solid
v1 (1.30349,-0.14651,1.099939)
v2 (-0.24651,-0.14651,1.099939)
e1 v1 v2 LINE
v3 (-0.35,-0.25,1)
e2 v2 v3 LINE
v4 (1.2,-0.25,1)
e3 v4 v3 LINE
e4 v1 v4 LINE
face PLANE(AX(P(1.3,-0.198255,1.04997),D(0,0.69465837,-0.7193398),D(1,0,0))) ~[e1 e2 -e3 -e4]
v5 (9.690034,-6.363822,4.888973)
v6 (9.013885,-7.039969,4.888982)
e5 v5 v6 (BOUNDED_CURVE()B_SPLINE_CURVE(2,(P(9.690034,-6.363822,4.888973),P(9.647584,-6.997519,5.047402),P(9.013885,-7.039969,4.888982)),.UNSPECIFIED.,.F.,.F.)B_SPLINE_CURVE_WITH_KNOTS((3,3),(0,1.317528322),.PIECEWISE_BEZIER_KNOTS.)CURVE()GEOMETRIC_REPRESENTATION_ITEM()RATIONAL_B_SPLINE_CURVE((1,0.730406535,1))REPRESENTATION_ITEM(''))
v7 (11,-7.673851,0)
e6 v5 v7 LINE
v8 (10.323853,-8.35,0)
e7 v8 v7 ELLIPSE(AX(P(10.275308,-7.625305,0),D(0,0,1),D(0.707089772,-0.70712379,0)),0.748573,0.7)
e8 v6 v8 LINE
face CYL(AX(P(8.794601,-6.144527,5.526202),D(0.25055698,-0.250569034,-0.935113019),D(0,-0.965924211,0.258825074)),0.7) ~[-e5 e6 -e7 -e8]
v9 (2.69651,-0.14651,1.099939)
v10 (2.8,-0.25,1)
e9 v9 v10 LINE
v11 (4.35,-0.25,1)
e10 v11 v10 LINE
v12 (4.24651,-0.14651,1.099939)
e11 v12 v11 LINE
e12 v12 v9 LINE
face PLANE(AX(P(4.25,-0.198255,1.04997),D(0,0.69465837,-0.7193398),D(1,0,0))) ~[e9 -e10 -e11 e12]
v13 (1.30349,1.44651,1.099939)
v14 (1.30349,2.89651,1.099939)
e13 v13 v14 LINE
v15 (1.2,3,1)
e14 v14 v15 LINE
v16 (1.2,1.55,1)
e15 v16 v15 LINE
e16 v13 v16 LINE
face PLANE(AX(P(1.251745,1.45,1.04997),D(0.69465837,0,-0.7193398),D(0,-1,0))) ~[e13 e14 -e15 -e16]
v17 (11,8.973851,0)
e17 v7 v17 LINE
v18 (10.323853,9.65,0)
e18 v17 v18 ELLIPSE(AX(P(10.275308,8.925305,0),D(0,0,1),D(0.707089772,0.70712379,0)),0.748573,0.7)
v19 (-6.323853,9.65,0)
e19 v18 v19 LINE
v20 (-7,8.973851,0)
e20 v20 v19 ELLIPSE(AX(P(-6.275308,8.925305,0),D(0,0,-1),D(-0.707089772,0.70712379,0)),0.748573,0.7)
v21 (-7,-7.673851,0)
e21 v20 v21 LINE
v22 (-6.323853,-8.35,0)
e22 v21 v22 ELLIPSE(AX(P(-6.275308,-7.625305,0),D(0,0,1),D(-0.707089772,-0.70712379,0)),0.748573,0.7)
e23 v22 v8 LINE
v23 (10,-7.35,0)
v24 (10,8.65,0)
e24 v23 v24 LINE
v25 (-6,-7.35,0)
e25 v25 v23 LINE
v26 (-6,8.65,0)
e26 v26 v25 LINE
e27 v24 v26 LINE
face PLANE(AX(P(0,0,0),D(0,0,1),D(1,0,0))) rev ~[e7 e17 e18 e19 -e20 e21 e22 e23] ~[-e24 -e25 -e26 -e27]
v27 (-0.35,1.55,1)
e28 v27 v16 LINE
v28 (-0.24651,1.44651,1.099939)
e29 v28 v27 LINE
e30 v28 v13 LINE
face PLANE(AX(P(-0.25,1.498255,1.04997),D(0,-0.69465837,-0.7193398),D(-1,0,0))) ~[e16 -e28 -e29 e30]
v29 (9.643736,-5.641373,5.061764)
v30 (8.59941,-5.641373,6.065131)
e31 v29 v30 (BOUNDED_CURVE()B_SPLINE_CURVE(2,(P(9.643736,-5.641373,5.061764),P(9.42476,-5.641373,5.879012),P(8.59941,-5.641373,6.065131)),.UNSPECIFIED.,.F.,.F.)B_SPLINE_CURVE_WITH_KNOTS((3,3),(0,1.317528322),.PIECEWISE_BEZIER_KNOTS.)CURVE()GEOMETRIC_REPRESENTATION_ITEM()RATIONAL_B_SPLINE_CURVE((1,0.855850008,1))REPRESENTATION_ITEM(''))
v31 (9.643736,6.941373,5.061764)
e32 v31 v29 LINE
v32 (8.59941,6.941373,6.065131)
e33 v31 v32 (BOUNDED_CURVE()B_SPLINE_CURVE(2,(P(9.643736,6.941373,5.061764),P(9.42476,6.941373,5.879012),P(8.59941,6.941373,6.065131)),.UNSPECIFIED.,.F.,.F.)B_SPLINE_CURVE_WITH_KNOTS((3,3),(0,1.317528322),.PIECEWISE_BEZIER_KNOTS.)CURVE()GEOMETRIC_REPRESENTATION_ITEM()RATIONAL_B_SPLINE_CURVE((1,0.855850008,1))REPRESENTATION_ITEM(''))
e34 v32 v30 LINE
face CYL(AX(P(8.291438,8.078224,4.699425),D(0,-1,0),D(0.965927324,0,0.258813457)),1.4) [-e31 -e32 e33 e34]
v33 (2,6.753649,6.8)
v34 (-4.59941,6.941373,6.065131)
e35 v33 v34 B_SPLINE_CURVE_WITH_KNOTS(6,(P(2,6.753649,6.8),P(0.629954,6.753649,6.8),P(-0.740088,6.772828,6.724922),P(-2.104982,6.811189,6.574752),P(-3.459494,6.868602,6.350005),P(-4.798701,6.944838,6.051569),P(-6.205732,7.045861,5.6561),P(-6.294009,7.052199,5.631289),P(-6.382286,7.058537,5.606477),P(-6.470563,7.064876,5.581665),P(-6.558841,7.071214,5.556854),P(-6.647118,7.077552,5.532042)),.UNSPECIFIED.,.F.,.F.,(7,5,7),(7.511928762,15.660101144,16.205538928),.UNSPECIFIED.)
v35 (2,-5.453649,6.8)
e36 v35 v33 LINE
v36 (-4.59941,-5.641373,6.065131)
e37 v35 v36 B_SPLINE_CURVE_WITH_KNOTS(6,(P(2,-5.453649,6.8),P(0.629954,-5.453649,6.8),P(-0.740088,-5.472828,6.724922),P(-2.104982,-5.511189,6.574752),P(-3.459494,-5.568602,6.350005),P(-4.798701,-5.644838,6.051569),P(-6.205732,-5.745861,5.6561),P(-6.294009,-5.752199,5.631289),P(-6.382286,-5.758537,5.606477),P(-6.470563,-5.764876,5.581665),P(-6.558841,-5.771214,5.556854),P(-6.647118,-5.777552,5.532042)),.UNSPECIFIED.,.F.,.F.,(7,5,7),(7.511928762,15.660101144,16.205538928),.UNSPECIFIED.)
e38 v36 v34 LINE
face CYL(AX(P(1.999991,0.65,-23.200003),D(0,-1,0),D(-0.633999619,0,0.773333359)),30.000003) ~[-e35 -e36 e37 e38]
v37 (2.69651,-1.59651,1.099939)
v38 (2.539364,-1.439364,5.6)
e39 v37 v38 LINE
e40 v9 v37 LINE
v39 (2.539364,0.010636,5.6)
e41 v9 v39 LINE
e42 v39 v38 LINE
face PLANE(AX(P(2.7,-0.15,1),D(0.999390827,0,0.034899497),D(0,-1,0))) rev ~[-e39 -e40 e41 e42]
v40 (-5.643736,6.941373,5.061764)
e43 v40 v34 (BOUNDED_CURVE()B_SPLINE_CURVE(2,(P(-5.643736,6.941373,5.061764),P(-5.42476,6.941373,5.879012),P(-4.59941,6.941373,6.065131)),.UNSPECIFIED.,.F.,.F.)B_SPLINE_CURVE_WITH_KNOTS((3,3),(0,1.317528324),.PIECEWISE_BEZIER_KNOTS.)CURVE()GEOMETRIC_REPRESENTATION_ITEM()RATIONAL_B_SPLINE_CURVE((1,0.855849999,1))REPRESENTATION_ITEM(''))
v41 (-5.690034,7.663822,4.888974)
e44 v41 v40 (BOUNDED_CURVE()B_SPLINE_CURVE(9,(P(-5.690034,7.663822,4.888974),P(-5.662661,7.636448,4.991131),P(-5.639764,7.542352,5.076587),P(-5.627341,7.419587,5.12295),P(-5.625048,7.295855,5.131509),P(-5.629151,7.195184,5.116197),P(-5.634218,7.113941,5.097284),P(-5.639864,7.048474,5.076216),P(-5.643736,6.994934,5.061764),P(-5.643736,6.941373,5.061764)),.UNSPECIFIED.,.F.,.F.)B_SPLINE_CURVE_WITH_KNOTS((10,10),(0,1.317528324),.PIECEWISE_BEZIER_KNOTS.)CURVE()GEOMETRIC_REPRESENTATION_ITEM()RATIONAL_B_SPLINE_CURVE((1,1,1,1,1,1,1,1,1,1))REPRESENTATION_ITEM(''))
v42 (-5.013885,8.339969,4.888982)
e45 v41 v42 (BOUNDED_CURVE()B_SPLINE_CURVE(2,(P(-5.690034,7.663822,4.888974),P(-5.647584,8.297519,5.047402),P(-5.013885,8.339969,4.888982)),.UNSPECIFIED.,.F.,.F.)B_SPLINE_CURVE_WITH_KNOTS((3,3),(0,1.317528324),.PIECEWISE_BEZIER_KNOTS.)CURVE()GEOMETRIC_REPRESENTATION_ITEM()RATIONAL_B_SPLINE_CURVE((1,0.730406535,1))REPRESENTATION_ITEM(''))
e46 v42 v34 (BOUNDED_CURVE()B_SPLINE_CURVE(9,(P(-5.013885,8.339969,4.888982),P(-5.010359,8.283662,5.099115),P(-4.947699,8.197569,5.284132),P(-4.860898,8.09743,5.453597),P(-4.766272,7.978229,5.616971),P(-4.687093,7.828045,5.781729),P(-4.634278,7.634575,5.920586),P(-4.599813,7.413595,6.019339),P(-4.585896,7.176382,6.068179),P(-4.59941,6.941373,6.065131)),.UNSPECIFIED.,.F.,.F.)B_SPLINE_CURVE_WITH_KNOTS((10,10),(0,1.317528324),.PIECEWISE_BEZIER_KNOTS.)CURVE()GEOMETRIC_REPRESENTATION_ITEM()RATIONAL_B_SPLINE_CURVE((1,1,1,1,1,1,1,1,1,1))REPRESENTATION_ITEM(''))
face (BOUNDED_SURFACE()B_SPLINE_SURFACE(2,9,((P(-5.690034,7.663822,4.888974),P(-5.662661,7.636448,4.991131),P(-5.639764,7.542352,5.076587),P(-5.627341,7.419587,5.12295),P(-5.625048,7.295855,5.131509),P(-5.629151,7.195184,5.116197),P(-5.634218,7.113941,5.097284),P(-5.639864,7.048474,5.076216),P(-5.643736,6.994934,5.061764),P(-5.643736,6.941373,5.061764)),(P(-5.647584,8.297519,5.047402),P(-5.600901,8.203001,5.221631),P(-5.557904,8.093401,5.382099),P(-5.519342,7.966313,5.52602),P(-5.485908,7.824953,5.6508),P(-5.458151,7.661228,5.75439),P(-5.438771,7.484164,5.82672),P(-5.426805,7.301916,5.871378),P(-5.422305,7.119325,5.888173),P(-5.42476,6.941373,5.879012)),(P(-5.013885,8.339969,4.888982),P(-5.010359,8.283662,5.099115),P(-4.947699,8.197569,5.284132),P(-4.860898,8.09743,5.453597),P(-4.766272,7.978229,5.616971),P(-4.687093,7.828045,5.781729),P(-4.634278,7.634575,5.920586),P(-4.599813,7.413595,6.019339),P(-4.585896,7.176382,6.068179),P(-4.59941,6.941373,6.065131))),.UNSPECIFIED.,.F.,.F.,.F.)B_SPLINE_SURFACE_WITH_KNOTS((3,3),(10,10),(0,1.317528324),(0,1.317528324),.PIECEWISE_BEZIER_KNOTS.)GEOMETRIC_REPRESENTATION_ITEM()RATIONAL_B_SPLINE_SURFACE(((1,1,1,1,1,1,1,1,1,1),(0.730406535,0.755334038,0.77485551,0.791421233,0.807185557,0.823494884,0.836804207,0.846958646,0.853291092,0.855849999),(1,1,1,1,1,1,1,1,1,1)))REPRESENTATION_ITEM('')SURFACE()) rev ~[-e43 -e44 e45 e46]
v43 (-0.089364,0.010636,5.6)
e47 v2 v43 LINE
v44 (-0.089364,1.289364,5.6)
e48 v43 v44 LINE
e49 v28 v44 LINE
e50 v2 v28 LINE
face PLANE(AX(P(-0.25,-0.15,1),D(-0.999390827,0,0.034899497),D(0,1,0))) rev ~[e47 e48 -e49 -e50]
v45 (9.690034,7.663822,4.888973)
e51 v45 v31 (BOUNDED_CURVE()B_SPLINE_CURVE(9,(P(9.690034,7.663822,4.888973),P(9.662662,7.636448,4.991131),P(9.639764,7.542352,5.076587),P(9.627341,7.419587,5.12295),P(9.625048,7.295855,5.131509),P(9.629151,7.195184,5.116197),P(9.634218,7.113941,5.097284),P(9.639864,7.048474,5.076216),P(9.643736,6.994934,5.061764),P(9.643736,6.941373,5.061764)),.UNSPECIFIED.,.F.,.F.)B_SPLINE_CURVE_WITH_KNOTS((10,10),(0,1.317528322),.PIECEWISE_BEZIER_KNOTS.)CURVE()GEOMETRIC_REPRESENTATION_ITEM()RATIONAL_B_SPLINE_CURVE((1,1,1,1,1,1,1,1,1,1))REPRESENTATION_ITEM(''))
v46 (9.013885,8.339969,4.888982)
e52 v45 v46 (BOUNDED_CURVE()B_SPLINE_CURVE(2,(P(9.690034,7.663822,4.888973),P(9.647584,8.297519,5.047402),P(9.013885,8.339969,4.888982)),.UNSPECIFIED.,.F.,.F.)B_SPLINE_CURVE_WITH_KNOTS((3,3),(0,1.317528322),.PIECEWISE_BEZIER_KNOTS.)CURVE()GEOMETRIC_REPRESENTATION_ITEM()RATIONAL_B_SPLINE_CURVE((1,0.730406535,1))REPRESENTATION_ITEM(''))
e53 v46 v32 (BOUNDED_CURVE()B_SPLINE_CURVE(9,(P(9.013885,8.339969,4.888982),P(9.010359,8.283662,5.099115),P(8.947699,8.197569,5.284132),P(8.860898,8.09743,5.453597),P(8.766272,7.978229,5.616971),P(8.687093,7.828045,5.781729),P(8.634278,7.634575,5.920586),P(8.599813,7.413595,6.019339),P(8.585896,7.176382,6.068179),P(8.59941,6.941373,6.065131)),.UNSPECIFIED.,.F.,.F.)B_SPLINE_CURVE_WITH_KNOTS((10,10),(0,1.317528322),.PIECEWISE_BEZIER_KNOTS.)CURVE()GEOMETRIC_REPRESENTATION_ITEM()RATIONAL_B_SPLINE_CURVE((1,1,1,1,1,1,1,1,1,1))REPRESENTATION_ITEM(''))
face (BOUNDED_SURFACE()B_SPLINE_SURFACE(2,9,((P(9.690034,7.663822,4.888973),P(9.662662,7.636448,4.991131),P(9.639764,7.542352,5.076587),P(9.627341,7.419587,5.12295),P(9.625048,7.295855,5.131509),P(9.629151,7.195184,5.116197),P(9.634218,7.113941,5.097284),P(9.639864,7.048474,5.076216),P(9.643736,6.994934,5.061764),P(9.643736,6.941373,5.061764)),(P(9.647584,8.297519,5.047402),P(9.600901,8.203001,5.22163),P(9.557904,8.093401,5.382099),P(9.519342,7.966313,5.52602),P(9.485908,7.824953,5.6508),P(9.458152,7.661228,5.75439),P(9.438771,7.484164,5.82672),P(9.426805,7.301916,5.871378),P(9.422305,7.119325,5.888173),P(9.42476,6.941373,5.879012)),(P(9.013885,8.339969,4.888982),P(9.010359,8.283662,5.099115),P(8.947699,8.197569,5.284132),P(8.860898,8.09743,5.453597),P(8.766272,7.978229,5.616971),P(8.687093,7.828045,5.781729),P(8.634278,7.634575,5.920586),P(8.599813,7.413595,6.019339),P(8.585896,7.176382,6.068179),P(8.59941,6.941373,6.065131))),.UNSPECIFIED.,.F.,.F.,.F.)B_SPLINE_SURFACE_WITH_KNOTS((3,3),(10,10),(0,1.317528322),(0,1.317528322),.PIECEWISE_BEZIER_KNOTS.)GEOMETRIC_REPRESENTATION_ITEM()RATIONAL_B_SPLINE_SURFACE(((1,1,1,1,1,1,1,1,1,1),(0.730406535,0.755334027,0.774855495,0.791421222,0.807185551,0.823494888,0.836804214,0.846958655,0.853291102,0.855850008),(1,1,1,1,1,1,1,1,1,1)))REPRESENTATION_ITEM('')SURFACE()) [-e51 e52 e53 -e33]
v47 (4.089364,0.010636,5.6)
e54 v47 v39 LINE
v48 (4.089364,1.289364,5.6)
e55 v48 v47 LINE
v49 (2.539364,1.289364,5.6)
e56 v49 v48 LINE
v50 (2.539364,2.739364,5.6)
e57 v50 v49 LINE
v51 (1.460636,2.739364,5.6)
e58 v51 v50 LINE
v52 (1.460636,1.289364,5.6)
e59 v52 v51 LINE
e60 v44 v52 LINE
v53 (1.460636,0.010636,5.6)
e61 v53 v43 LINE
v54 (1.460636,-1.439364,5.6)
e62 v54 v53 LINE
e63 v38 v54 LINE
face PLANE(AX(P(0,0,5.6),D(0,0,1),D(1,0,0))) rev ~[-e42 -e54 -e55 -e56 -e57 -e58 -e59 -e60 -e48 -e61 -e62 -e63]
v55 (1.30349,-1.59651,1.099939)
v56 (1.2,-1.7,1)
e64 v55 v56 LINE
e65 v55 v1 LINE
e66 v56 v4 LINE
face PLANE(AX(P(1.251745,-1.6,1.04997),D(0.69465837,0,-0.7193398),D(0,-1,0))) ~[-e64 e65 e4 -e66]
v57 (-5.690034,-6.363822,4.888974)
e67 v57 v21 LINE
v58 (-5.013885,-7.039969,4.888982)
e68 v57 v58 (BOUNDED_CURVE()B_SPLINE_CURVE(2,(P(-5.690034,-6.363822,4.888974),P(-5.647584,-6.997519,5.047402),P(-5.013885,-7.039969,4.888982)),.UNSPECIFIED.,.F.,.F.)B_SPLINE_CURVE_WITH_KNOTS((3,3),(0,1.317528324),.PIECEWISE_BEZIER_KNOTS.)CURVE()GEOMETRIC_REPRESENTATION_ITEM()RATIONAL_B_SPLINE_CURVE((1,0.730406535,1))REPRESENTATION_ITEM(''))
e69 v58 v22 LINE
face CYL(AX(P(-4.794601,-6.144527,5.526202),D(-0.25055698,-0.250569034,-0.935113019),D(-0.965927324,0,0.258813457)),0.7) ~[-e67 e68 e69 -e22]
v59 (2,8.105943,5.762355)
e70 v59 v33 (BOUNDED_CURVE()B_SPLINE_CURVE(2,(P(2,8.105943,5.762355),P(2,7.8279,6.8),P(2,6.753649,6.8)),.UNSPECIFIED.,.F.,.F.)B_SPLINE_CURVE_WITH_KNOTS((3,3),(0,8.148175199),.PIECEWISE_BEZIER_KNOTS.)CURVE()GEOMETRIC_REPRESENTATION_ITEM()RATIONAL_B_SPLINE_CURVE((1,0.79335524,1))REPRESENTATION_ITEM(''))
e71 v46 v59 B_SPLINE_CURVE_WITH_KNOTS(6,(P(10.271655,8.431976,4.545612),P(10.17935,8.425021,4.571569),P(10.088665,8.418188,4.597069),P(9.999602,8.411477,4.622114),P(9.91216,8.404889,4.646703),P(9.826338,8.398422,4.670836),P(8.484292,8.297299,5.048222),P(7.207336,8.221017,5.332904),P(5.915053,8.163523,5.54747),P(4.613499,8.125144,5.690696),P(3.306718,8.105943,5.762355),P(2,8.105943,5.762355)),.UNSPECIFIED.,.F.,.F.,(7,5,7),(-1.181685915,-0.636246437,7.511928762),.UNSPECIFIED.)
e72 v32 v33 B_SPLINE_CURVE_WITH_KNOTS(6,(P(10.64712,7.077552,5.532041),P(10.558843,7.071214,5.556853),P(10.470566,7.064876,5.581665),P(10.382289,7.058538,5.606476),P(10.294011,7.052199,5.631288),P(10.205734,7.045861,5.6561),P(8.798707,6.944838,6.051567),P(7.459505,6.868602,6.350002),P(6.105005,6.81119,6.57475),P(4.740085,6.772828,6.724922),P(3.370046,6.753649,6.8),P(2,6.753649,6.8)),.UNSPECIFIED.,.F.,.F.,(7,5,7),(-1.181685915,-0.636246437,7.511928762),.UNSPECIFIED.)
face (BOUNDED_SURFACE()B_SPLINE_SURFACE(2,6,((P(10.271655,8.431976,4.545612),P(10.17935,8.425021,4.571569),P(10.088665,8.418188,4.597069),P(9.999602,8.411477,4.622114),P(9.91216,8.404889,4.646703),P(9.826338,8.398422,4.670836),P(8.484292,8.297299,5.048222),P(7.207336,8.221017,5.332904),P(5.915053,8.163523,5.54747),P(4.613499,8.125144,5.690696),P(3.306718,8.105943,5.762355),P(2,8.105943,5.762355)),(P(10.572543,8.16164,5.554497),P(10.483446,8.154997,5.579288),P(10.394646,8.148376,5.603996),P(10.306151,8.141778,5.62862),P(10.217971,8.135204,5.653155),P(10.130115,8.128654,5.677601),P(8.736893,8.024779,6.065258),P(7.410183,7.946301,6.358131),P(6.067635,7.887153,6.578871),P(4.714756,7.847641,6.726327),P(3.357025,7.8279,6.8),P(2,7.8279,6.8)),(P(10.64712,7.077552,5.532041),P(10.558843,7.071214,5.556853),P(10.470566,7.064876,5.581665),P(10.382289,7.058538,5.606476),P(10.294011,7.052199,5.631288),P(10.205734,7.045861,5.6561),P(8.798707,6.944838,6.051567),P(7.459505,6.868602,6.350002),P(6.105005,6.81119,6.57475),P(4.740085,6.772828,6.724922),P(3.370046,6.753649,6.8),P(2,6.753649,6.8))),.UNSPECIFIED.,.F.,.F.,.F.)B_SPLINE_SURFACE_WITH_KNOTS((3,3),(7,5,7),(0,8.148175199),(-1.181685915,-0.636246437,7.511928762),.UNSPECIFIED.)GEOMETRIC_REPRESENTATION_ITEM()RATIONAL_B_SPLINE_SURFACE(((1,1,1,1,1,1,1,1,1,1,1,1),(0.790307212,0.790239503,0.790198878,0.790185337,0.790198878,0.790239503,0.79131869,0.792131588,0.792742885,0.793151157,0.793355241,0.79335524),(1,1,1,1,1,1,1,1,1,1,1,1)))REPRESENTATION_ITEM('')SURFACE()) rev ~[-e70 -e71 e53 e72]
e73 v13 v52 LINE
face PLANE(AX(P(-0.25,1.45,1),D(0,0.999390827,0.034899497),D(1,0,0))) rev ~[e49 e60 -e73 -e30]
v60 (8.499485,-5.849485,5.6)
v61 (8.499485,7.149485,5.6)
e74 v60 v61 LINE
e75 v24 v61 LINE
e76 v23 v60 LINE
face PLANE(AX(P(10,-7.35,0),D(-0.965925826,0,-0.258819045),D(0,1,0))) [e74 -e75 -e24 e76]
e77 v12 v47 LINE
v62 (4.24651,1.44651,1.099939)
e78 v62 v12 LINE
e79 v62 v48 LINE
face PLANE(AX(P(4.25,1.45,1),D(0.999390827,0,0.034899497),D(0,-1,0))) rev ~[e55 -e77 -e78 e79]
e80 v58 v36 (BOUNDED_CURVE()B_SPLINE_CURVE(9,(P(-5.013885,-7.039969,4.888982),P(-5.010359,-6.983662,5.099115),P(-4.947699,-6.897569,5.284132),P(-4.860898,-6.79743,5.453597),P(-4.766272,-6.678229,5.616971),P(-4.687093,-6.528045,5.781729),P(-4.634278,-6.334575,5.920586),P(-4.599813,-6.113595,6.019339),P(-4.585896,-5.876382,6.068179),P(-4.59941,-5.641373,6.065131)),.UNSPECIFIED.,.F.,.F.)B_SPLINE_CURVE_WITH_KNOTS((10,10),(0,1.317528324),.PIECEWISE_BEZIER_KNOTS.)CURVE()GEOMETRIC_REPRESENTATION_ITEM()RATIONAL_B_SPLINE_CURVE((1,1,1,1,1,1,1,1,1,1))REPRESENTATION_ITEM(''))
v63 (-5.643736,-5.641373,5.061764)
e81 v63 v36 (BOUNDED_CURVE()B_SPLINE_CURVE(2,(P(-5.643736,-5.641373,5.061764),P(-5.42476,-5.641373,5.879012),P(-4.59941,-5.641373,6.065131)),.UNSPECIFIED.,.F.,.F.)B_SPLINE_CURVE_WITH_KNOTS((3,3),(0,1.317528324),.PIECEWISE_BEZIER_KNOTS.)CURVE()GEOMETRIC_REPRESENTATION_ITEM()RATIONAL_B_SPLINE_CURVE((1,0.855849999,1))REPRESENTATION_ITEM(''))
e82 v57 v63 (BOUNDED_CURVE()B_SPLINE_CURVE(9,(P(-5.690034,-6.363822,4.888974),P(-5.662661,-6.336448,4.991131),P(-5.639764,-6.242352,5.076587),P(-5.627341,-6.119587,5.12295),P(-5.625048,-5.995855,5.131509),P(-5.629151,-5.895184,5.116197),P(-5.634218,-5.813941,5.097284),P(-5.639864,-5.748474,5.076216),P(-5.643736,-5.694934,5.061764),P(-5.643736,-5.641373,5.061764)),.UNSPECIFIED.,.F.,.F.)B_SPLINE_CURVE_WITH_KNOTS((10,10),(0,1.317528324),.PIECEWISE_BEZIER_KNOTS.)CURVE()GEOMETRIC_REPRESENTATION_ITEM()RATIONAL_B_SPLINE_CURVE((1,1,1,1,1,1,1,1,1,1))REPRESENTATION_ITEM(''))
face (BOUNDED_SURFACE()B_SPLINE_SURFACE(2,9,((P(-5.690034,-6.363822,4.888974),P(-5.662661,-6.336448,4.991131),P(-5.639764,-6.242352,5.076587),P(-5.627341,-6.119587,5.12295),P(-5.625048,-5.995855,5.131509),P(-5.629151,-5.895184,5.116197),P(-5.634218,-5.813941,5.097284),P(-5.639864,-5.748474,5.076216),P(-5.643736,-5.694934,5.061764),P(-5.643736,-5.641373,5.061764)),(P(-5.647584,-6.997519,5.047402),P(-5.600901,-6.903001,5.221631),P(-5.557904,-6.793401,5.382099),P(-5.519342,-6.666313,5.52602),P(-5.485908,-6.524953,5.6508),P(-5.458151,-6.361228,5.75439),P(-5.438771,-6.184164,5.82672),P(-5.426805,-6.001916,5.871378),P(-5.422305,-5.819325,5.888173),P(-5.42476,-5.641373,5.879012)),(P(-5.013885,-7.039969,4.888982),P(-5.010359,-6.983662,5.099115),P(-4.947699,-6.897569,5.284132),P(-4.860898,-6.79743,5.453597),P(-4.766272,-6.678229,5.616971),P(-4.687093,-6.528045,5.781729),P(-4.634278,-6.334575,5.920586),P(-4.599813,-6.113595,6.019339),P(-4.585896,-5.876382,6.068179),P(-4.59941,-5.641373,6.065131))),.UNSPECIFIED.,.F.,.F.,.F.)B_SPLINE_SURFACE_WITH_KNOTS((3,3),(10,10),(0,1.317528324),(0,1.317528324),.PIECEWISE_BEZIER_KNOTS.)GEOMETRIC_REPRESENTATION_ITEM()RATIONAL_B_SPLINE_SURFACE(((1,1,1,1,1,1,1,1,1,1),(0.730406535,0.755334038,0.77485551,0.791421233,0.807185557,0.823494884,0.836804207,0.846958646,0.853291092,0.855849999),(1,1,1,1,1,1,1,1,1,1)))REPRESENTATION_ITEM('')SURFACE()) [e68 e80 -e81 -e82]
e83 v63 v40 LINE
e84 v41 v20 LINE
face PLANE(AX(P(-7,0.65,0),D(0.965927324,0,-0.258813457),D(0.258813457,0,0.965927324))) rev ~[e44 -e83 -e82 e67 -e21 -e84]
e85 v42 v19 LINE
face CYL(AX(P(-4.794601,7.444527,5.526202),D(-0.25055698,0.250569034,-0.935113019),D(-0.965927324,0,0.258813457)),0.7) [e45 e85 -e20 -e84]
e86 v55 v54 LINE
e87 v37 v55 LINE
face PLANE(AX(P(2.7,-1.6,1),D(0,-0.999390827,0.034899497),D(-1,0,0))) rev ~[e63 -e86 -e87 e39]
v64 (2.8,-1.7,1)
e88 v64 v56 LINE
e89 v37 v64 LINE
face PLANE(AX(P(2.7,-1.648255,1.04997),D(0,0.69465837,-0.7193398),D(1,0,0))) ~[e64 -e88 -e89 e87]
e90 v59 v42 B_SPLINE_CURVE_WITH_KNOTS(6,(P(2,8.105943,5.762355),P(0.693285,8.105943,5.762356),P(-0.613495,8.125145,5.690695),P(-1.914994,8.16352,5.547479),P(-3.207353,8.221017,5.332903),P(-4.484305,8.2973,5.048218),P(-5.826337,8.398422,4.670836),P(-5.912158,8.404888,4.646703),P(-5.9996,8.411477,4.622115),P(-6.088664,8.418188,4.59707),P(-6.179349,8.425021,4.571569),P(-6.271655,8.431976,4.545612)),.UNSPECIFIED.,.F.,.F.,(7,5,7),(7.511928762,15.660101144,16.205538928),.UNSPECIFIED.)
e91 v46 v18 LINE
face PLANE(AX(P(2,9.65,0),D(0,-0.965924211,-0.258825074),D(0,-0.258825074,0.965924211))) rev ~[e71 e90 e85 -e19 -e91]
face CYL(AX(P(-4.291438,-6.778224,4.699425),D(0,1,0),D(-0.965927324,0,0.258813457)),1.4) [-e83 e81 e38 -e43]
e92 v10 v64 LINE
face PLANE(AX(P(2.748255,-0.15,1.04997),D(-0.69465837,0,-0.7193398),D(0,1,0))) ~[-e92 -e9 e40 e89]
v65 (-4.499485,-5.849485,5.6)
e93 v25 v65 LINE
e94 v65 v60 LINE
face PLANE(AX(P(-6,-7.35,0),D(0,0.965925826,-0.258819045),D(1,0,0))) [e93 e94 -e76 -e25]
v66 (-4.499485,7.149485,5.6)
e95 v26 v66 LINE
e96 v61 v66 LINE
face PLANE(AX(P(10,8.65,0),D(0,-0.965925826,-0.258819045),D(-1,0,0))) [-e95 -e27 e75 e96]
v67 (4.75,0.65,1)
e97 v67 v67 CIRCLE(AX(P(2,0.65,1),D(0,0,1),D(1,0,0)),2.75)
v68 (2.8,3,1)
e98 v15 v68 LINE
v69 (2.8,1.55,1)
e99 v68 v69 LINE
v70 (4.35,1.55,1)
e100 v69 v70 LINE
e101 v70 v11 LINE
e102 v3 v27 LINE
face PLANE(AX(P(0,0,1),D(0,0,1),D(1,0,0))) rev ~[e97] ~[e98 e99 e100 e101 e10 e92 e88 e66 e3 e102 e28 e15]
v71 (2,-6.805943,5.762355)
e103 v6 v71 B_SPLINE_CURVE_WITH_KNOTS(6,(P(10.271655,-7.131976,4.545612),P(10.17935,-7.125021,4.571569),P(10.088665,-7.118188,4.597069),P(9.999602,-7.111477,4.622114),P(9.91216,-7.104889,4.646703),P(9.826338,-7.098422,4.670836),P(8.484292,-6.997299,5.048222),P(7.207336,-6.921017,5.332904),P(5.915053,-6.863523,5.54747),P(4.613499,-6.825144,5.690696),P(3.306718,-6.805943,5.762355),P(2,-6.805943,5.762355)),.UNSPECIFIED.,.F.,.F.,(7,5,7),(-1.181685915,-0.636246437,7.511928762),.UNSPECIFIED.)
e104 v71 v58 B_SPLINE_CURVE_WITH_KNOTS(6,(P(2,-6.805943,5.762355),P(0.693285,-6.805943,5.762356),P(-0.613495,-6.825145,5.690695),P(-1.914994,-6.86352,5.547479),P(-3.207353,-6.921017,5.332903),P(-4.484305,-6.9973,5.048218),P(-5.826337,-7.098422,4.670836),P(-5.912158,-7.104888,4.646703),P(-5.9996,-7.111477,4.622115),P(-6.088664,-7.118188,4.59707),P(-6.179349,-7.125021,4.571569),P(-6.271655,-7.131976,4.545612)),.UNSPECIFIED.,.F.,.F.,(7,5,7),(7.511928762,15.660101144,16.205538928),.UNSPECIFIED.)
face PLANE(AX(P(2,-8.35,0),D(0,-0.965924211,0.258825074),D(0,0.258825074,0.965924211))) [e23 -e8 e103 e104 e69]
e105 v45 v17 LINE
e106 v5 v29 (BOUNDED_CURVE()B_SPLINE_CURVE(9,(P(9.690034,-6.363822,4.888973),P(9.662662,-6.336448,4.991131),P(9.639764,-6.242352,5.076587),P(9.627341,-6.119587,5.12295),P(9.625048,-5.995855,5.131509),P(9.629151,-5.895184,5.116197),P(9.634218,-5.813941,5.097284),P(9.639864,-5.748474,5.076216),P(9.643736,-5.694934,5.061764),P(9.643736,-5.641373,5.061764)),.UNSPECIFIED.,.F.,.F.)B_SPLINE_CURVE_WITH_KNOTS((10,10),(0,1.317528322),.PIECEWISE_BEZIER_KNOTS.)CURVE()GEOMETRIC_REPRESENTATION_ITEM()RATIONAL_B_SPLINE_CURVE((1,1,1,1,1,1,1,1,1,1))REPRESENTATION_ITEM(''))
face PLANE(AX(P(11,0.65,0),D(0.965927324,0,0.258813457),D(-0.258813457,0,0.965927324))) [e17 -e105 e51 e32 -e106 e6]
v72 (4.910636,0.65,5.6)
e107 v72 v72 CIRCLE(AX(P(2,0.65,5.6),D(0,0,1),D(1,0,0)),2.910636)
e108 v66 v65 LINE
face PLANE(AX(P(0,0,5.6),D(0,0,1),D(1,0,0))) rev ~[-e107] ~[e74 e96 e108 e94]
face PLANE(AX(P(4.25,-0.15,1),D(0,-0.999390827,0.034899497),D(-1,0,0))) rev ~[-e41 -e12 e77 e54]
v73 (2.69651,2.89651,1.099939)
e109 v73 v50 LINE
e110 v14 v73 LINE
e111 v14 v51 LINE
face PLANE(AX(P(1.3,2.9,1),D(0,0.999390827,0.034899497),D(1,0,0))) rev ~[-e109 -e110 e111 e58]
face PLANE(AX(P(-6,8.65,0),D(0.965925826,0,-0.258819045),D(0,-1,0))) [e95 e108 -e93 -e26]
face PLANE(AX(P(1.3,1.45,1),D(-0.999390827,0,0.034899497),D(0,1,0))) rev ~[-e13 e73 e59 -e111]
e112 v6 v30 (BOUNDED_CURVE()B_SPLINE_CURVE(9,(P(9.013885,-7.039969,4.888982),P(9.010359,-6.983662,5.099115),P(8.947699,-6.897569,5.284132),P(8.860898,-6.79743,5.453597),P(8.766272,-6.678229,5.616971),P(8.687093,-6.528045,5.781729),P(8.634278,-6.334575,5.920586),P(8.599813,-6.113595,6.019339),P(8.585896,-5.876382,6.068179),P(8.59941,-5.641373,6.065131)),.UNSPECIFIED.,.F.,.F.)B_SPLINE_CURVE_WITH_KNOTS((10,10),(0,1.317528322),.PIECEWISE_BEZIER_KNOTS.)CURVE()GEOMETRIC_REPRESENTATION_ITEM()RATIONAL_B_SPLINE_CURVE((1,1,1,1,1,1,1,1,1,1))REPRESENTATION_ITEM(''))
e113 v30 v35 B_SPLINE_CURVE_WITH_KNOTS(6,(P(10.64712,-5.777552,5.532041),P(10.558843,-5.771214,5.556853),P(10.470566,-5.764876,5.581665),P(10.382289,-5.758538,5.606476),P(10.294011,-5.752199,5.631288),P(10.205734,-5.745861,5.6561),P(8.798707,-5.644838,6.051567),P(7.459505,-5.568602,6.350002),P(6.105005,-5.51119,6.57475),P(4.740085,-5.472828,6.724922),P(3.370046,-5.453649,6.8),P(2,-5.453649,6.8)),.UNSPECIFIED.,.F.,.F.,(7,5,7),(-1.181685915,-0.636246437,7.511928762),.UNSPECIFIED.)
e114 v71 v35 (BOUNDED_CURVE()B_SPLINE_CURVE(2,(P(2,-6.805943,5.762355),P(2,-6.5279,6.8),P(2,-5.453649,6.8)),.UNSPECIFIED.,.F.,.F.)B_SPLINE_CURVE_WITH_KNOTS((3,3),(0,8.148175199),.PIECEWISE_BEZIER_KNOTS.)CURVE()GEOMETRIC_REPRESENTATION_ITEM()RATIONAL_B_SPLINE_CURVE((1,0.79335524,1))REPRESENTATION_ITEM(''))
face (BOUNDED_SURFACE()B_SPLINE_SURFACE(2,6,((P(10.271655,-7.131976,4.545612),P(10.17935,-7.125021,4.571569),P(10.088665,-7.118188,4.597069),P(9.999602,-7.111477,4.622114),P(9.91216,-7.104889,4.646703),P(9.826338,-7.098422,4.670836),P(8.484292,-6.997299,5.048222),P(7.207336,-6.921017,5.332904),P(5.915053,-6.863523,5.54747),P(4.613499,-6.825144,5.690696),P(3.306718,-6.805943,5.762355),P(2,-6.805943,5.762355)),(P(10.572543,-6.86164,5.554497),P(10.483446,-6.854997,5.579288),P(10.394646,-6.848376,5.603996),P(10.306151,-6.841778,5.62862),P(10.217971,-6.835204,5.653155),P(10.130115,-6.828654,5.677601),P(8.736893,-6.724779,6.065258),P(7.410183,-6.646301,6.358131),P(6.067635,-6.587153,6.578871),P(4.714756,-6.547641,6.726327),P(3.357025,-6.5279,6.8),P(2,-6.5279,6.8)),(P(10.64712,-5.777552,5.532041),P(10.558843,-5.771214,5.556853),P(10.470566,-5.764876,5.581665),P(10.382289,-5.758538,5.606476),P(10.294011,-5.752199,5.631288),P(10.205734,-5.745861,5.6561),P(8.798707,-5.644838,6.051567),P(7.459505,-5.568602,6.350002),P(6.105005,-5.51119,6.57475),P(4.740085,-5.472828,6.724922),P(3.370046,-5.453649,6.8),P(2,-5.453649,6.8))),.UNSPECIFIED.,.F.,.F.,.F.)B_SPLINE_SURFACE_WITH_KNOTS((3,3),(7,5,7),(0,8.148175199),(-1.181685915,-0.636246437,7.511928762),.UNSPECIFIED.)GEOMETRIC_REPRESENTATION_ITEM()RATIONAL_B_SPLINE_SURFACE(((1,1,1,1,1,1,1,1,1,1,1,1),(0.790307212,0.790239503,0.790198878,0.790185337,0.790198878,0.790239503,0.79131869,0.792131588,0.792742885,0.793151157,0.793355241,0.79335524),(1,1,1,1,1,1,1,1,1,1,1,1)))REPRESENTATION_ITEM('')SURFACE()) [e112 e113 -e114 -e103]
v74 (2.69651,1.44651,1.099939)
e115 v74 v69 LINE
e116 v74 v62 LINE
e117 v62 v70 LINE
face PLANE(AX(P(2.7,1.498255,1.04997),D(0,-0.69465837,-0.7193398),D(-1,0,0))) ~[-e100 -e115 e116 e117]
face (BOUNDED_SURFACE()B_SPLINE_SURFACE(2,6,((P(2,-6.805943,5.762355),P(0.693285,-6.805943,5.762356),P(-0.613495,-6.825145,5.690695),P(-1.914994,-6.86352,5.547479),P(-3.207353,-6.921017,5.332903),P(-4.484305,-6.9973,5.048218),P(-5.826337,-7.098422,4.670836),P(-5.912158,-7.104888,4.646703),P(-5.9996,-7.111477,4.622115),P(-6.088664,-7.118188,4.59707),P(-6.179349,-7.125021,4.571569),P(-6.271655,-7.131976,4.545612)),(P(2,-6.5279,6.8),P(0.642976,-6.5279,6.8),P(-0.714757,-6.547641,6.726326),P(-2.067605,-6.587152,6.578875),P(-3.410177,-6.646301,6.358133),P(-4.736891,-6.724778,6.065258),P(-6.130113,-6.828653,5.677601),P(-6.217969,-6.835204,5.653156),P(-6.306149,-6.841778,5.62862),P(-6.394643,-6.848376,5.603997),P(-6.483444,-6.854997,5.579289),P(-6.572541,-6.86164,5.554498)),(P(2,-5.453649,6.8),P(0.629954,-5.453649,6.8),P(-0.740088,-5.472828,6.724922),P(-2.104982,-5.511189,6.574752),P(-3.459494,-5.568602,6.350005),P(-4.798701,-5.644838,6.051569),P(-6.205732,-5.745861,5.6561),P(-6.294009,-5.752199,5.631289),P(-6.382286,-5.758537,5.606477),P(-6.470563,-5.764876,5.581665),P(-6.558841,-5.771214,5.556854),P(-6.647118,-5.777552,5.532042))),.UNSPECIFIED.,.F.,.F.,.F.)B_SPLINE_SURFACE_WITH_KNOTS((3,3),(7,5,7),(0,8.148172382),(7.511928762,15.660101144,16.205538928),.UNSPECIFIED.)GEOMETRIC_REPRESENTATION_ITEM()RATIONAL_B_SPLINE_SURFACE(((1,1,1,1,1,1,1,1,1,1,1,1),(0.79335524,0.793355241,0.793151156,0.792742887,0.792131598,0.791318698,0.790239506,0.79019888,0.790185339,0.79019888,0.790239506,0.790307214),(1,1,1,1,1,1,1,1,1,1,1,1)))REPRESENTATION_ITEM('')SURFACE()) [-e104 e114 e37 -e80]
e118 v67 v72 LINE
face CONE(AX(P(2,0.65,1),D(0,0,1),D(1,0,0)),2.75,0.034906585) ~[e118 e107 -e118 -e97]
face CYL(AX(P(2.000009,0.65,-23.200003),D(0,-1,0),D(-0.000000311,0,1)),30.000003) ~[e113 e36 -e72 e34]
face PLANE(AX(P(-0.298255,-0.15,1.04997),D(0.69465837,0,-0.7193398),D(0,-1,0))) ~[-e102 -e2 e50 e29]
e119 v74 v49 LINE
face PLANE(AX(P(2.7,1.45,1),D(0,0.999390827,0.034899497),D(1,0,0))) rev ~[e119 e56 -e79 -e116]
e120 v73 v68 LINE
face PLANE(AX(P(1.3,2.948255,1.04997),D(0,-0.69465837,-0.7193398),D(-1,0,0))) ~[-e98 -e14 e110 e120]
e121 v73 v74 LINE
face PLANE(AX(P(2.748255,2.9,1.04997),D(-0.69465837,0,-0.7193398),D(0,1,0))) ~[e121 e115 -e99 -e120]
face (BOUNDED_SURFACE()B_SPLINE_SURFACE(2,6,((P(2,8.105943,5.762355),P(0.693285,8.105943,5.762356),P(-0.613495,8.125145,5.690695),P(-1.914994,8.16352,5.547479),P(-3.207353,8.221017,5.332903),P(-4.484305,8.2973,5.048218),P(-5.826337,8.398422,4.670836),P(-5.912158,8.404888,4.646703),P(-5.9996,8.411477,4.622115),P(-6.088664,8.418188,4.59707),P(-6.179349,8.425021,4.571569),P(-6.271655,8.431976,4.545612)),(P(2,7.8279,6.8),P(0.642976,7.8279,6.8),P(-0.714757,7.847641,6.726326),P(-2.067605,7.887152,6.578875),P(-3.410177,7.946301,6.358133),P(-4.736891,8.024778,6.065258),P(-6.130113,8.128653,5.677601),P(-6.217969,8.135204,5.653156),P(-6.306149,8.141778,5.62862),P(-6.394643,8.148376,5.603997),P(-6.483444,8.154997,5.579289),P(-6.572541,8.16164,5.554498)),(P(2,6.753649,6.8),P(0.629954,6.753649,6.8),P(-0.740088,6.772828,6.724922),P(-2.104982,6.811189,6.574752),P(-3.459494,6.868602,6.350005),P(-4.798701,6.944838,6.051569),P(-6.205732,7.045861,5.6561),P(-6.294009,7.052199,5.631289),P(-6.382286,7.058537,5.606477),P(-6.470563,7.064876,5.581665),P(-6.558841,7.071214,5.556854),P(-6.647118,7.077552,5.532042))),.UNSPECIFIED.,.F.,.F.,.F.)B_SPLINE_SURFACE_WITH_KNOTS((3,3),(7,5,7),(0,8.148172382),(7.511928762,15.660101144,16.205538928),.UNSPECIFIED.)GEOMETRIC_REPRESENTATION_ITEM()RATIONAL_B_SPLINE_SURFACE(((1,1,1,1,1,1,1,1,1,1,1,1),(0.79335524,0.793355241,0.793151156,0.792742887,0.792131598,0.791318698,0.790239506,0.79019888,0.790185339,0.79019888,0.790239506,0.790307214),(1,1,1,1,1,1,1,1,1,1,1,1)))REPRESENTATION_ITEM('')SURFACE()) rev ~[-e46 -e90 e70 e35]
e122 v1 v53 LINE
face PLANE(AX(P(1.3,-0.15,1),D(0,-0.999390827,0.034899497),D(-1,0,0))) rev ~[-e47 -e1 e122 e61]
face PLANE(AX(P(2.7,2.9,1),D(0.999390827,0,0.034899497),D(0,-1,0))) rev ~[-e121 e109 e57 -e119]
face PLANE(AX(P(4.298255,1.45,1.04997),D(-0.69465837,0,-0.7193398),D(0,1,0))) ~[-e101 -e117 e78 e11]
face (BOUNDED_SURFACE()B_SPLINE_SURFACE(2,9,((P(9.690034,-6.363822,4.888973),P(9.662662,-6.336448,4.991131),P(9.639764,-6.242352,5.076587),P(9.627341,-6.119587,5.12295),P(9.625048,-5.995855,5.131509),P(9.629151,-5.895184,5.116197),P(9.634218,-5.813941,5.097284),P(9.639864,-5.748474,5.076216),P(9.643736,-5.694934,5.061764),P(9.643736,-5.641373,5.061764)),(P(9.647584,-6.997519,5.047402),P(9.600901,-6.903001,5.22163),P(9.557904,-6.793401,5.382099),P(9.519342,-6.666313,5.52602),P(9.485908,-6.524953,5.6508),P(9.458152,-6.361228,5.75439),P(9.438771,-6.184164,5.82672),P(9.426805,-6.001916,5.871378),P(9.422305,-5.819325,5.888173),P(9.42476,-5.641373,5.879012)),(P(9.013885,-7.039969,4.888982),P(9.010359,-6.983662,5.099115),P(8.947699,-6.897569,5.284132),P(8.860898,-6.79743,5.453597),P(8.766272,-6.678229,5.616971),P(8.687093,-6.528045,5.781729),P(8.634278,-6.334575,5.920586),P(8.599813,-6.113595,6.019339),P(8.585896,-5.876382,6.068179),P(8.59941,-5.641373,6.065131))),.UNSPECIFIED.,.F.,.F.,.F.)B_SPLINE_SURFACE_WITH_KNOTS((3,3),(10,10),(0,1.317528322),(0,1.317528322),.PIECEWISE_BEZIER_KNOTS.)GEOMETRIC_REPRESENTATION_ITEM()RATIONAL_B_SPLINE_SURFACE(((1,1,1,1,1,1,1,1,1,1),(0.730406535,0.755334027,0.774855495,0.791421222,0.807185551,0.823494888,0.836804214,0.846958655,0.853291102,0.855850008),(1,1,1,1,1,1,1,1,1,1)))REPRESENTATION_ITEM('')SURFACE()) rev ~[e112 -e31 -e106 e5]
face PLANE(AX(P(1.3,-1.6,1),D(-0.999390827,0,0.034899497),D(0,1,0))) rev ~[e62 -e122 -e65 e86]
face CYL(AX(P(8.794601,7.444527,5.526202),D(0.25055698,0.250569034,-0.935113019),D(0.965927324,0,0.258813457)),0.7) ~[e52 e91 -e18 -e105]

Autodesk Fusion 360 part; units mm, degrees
sketch "Stem dimensions" plane through (0, 0, 0) normal (0, 0, 1) x (1, 0, 0)
  line L0 (0, 0) -> (4, 0)
  line L1 (4, 0) -> (4, 1.3)
  line L2 (4, 1.3) -> (0, 1.3)
  line L3 (0, 1.3) -> (0, 0)
  line L4 (1.45, 2.65) -> (2.55, 2.65)
  line L5 (2.55, 2.65) -> (2.55, -1.35)
  line L6 (2.55, -1.35) -> (1.45, -1.35)
  line L7 (1.45, -1.35) -> (1.45, 2.65)
  line L8 (0, 1.3) -> (4, 0) construction
  line L9 (0, 0) -> (4, 1.3) construction
  line L10 (2, -1.35) -> (2, 2.65) construction
  line L11 (2.55, 0.65) -> (1.45, 0.65) construction
  point P0 (2, 0.65)
  point P1 (2, 0.65)
  point P2 (2, 0.65)
  dimension "d1" = 4
  dimension "d2" = 1.3
  dimension "d3" = 1.1
  dimension "d4" = 4
sketch "Stem clearance" plane through (0, 0, 0) normal (0, 0, 1) x (1, 0, 0)
  line L0 (4, 1.3) -> (0, 1.3) construction
  line L1 (1.45, -1.35) -> (1.45, 2.65) construction
  line L2 (1.45, 2.65) -> (2.55, 2.65) construction
  line L3 (2.55, 2.65) -> (2.55, -1.35) construction
  line L4 (4, 0) -> (4, 1.3) construction
  line L5 (0, 0) -> (4, 0) construction
  line L6 (2.55, -1.35) -> (1.45, -1.35) construction
  line L7 (0, 1.3) -> (0, 0) construction
  line L8 (-0.25, 1.45) -> (1.3, 1.45)
  line L9 (1.3, 1.45) -> (1.3, 2.9)
  line L10 (1.3, 2.9) -> (2.7, 2.9)
  line L11 (2.7, 2.9) -> (2.7, 1.45)
  line L12 (2.7, 1.45) -> (4.25, 1.45)
  line L13 (4.25, 1.45) -> (4.25, -0.15)
  line L14 (4.25, -0.15) -> (2.7, -0.15)
  line L15 (2.7, -0.15) -> (2.7, -1.6)
  line L16 (2.7, -1.6) -> (1.3, -1.6)
  line L17 (1.3, -1.6) -> (1.3, -0.15)
  line L18 (1.3, -0.15) -> (-0.25, -0.15)
  line L19 (-0.25, -0.15) -> (-0.25, 1.45)
  circle A0 centre (2, 0.65) radius 2.75
  point P0 (2, 0.65)
  dimension "gap" = 0.15
  dimension "gap_edge" = 0.25
  dimension "d7" = 0.15
  dimension "d8" = 0.25
  dimension "d9" = 0.25
  dimension "d10" = 0.25
  dimension "d11" = 0.15
  dimension "d12" = 0.15
  dimension "d13" = 5.5
ref_plane "WorkPlane1" through (2, 0.65, 0) normal (1, 0, 0) x (0, 1, 0)
sketch "Stem - vertical" plane through (2, 0, 0) normal (1, 0, 0) x (0, 1, 0)
  line L0 (-1.35, 0) -> (2.65, 0) construction
  line L1 (0.65, 0) -> (0.65, 5.6)
  point P0 (0.65, 1)
  point P1 (0.65, 0)
  dimension "d16" = 1
  dimension "d28" = 4.6
extrude "Extrude1" add sketch "Stem clearance" along normal up to surface (4.6 mm away) draft 2 from surface at 1 makes body 1
chamfer "Chamfer1" distance 0.1 angle 45 12 edges at (1.3, -0.875, 1) (2, -1.6, 1) (2.7, -0.875, 1) (3.475, -0.15, 1) (4.25, 0.65, 1) (3.475, 1.45, 1) (2.7, 2.175, 1) (2, 2.9, 1) (1.3, 2.175, 1) (0.525, 1.45, 1) (-0.25, 0.65, 1) (0.525, -0.15, 1) on bodies 1
sketch "Keycap bottom" plane through (0, 0, 0) normal (0, 0, 1) x (1, 0, 0)
  line L0 (2.55, 0.65) -> (1.45, 0.65) construction
  line L1 (2, -1.35) -> (2, 2.65) construction
  line L2 (-7, -8.35) -> (11, -8.35)
  line L3 (11, -8.35) -> (11, 9.65)
  line L4 (11, 9.65) -> (-7, 9.65)
  line L5 (-7, 9.65) -> (-7, -8.35)
  line L6 (-7, 9.65) -> (11, -8.35) construction
  line L7 (11, 9.65) -> (-7, -8.35) construction
  line L8 (-6, -7.35) -> (10, -7.35)
  line L9 (10, -7.35) -> (10, 8.65)
  line L10 (10, 8.65) -> (-6, 8.65)
  line L11 (-6, 8.65) -> (-6, -7.35)
  point P0 (2, 0.65)
  point P1 (2, 0.65)
  dimension "keycap_size" = 18
  dimension "d21" = 18
  dimension "d29" = 16
ref_plane "WorkPlane2" through (2, 0.65, 0) normal (0, 1, 0) x (-1, 0, 0)
extrude "Extrude2" add sketch "Keycap bottom" along normal blind 12 separate body contours L2 L3 L4 L5 | L8 L9 L10 L11 makes body 2
sketch "Keycap front-back profile" plane through (0, 0.65, 0) normal (0, 1, 0) x (1, 0, 0)
  line L0 (4.9106, -5.6) -> (-0.9106, -5.6) construction
  line L1 (-7, 0) -> (11, 0)
  line L2 (2, -5.6) -> (2, 23.2) construction
  arc A0 (-17.02, 0) -> (2, -6.8) centre (2, 23.2) ccw
  line L3 (-7, 0) -> (-5.4283, -5.8658)
  arc A1 (2, -6.8) -> (21.02, 0) centre (2, 23.2) ccw
  line L4 (11, 0) -> (9.4283, -5.8658)
  point P0 (-6, 0)
  point P1 (10, 0)
  dimension "d31" = 1.2
  dimension "d32" = 75
  dimension "d46" = 30
extrude "Extrude4" cut sketch "Keycap front-back profile" along normal through all and the other way through all keep common part bodies 2 1
sketch "Keycap left-right profile" plane through (2, 0, 0) normal (1, 0, 0) x (0, 1, 0)
  line L0 (-8.35, 0) -> (9.65, 0)
  line L1 (-2.2606, 5.6) -> (3.5606, 5.6) construction
  line L2 (-8.35, 0) -> (-6.5279, 6.8)
  line L3 (-6.5279, 6.8) -> (0.65, 6.8)
  line L4 (0.65, 5.6) -> (0.65, -23.2)
  line L5 (7.8279, 6.8) -> (0.65, 6.8)
  line L6 (9.65, 0) -> (7.8279, 6.8)
  point P0 (8.65, 0)
  point P1 (-7.35, 0)
  point P2 (0.65, 6.8)
  dimension "d40" = 75
extrude "Extrude5" cut sketch "Keycap left-right profile" along normal through all and the other way through all keep common part bodies 2 1
fillet "Fillet1" radius 1.4 4 edges at (9.4283, 0.65, 5.8658) (-5.4283, 0.65, 5.8658) (2, 7.8279, 6.8) (2, -6.5279, 6.8) on bodies 2
fillet "Fillet1" radius 0.7 4 edges at (10.2141, 8.8641, 2.9329) (-6.2141, 8.8641, 2.9329) (-6.2141, -7.5641, 2.9329) (10.2141, -7.5641, 2.9329) on bodies 2
extrude "Extrude3" cut sketch "Keycap bottom" along normal up to surface (5.6 mm away) draft -15 contours L8 L9 L10 L11 bodies 2
combine "Combine1" operation add target body 2 tool bodies 1
equation "d7 = gap"
equation "d8 = gap_edge"
equation "d9 = gap_edge"
equation "d10 = gap_edge"
equation "d11 = gap"
equation "d12 = gap"
equation "d21 = keycap_size"
equation "d28 = 4 mm + 0.6 mm"
equation "d40 = d32"
